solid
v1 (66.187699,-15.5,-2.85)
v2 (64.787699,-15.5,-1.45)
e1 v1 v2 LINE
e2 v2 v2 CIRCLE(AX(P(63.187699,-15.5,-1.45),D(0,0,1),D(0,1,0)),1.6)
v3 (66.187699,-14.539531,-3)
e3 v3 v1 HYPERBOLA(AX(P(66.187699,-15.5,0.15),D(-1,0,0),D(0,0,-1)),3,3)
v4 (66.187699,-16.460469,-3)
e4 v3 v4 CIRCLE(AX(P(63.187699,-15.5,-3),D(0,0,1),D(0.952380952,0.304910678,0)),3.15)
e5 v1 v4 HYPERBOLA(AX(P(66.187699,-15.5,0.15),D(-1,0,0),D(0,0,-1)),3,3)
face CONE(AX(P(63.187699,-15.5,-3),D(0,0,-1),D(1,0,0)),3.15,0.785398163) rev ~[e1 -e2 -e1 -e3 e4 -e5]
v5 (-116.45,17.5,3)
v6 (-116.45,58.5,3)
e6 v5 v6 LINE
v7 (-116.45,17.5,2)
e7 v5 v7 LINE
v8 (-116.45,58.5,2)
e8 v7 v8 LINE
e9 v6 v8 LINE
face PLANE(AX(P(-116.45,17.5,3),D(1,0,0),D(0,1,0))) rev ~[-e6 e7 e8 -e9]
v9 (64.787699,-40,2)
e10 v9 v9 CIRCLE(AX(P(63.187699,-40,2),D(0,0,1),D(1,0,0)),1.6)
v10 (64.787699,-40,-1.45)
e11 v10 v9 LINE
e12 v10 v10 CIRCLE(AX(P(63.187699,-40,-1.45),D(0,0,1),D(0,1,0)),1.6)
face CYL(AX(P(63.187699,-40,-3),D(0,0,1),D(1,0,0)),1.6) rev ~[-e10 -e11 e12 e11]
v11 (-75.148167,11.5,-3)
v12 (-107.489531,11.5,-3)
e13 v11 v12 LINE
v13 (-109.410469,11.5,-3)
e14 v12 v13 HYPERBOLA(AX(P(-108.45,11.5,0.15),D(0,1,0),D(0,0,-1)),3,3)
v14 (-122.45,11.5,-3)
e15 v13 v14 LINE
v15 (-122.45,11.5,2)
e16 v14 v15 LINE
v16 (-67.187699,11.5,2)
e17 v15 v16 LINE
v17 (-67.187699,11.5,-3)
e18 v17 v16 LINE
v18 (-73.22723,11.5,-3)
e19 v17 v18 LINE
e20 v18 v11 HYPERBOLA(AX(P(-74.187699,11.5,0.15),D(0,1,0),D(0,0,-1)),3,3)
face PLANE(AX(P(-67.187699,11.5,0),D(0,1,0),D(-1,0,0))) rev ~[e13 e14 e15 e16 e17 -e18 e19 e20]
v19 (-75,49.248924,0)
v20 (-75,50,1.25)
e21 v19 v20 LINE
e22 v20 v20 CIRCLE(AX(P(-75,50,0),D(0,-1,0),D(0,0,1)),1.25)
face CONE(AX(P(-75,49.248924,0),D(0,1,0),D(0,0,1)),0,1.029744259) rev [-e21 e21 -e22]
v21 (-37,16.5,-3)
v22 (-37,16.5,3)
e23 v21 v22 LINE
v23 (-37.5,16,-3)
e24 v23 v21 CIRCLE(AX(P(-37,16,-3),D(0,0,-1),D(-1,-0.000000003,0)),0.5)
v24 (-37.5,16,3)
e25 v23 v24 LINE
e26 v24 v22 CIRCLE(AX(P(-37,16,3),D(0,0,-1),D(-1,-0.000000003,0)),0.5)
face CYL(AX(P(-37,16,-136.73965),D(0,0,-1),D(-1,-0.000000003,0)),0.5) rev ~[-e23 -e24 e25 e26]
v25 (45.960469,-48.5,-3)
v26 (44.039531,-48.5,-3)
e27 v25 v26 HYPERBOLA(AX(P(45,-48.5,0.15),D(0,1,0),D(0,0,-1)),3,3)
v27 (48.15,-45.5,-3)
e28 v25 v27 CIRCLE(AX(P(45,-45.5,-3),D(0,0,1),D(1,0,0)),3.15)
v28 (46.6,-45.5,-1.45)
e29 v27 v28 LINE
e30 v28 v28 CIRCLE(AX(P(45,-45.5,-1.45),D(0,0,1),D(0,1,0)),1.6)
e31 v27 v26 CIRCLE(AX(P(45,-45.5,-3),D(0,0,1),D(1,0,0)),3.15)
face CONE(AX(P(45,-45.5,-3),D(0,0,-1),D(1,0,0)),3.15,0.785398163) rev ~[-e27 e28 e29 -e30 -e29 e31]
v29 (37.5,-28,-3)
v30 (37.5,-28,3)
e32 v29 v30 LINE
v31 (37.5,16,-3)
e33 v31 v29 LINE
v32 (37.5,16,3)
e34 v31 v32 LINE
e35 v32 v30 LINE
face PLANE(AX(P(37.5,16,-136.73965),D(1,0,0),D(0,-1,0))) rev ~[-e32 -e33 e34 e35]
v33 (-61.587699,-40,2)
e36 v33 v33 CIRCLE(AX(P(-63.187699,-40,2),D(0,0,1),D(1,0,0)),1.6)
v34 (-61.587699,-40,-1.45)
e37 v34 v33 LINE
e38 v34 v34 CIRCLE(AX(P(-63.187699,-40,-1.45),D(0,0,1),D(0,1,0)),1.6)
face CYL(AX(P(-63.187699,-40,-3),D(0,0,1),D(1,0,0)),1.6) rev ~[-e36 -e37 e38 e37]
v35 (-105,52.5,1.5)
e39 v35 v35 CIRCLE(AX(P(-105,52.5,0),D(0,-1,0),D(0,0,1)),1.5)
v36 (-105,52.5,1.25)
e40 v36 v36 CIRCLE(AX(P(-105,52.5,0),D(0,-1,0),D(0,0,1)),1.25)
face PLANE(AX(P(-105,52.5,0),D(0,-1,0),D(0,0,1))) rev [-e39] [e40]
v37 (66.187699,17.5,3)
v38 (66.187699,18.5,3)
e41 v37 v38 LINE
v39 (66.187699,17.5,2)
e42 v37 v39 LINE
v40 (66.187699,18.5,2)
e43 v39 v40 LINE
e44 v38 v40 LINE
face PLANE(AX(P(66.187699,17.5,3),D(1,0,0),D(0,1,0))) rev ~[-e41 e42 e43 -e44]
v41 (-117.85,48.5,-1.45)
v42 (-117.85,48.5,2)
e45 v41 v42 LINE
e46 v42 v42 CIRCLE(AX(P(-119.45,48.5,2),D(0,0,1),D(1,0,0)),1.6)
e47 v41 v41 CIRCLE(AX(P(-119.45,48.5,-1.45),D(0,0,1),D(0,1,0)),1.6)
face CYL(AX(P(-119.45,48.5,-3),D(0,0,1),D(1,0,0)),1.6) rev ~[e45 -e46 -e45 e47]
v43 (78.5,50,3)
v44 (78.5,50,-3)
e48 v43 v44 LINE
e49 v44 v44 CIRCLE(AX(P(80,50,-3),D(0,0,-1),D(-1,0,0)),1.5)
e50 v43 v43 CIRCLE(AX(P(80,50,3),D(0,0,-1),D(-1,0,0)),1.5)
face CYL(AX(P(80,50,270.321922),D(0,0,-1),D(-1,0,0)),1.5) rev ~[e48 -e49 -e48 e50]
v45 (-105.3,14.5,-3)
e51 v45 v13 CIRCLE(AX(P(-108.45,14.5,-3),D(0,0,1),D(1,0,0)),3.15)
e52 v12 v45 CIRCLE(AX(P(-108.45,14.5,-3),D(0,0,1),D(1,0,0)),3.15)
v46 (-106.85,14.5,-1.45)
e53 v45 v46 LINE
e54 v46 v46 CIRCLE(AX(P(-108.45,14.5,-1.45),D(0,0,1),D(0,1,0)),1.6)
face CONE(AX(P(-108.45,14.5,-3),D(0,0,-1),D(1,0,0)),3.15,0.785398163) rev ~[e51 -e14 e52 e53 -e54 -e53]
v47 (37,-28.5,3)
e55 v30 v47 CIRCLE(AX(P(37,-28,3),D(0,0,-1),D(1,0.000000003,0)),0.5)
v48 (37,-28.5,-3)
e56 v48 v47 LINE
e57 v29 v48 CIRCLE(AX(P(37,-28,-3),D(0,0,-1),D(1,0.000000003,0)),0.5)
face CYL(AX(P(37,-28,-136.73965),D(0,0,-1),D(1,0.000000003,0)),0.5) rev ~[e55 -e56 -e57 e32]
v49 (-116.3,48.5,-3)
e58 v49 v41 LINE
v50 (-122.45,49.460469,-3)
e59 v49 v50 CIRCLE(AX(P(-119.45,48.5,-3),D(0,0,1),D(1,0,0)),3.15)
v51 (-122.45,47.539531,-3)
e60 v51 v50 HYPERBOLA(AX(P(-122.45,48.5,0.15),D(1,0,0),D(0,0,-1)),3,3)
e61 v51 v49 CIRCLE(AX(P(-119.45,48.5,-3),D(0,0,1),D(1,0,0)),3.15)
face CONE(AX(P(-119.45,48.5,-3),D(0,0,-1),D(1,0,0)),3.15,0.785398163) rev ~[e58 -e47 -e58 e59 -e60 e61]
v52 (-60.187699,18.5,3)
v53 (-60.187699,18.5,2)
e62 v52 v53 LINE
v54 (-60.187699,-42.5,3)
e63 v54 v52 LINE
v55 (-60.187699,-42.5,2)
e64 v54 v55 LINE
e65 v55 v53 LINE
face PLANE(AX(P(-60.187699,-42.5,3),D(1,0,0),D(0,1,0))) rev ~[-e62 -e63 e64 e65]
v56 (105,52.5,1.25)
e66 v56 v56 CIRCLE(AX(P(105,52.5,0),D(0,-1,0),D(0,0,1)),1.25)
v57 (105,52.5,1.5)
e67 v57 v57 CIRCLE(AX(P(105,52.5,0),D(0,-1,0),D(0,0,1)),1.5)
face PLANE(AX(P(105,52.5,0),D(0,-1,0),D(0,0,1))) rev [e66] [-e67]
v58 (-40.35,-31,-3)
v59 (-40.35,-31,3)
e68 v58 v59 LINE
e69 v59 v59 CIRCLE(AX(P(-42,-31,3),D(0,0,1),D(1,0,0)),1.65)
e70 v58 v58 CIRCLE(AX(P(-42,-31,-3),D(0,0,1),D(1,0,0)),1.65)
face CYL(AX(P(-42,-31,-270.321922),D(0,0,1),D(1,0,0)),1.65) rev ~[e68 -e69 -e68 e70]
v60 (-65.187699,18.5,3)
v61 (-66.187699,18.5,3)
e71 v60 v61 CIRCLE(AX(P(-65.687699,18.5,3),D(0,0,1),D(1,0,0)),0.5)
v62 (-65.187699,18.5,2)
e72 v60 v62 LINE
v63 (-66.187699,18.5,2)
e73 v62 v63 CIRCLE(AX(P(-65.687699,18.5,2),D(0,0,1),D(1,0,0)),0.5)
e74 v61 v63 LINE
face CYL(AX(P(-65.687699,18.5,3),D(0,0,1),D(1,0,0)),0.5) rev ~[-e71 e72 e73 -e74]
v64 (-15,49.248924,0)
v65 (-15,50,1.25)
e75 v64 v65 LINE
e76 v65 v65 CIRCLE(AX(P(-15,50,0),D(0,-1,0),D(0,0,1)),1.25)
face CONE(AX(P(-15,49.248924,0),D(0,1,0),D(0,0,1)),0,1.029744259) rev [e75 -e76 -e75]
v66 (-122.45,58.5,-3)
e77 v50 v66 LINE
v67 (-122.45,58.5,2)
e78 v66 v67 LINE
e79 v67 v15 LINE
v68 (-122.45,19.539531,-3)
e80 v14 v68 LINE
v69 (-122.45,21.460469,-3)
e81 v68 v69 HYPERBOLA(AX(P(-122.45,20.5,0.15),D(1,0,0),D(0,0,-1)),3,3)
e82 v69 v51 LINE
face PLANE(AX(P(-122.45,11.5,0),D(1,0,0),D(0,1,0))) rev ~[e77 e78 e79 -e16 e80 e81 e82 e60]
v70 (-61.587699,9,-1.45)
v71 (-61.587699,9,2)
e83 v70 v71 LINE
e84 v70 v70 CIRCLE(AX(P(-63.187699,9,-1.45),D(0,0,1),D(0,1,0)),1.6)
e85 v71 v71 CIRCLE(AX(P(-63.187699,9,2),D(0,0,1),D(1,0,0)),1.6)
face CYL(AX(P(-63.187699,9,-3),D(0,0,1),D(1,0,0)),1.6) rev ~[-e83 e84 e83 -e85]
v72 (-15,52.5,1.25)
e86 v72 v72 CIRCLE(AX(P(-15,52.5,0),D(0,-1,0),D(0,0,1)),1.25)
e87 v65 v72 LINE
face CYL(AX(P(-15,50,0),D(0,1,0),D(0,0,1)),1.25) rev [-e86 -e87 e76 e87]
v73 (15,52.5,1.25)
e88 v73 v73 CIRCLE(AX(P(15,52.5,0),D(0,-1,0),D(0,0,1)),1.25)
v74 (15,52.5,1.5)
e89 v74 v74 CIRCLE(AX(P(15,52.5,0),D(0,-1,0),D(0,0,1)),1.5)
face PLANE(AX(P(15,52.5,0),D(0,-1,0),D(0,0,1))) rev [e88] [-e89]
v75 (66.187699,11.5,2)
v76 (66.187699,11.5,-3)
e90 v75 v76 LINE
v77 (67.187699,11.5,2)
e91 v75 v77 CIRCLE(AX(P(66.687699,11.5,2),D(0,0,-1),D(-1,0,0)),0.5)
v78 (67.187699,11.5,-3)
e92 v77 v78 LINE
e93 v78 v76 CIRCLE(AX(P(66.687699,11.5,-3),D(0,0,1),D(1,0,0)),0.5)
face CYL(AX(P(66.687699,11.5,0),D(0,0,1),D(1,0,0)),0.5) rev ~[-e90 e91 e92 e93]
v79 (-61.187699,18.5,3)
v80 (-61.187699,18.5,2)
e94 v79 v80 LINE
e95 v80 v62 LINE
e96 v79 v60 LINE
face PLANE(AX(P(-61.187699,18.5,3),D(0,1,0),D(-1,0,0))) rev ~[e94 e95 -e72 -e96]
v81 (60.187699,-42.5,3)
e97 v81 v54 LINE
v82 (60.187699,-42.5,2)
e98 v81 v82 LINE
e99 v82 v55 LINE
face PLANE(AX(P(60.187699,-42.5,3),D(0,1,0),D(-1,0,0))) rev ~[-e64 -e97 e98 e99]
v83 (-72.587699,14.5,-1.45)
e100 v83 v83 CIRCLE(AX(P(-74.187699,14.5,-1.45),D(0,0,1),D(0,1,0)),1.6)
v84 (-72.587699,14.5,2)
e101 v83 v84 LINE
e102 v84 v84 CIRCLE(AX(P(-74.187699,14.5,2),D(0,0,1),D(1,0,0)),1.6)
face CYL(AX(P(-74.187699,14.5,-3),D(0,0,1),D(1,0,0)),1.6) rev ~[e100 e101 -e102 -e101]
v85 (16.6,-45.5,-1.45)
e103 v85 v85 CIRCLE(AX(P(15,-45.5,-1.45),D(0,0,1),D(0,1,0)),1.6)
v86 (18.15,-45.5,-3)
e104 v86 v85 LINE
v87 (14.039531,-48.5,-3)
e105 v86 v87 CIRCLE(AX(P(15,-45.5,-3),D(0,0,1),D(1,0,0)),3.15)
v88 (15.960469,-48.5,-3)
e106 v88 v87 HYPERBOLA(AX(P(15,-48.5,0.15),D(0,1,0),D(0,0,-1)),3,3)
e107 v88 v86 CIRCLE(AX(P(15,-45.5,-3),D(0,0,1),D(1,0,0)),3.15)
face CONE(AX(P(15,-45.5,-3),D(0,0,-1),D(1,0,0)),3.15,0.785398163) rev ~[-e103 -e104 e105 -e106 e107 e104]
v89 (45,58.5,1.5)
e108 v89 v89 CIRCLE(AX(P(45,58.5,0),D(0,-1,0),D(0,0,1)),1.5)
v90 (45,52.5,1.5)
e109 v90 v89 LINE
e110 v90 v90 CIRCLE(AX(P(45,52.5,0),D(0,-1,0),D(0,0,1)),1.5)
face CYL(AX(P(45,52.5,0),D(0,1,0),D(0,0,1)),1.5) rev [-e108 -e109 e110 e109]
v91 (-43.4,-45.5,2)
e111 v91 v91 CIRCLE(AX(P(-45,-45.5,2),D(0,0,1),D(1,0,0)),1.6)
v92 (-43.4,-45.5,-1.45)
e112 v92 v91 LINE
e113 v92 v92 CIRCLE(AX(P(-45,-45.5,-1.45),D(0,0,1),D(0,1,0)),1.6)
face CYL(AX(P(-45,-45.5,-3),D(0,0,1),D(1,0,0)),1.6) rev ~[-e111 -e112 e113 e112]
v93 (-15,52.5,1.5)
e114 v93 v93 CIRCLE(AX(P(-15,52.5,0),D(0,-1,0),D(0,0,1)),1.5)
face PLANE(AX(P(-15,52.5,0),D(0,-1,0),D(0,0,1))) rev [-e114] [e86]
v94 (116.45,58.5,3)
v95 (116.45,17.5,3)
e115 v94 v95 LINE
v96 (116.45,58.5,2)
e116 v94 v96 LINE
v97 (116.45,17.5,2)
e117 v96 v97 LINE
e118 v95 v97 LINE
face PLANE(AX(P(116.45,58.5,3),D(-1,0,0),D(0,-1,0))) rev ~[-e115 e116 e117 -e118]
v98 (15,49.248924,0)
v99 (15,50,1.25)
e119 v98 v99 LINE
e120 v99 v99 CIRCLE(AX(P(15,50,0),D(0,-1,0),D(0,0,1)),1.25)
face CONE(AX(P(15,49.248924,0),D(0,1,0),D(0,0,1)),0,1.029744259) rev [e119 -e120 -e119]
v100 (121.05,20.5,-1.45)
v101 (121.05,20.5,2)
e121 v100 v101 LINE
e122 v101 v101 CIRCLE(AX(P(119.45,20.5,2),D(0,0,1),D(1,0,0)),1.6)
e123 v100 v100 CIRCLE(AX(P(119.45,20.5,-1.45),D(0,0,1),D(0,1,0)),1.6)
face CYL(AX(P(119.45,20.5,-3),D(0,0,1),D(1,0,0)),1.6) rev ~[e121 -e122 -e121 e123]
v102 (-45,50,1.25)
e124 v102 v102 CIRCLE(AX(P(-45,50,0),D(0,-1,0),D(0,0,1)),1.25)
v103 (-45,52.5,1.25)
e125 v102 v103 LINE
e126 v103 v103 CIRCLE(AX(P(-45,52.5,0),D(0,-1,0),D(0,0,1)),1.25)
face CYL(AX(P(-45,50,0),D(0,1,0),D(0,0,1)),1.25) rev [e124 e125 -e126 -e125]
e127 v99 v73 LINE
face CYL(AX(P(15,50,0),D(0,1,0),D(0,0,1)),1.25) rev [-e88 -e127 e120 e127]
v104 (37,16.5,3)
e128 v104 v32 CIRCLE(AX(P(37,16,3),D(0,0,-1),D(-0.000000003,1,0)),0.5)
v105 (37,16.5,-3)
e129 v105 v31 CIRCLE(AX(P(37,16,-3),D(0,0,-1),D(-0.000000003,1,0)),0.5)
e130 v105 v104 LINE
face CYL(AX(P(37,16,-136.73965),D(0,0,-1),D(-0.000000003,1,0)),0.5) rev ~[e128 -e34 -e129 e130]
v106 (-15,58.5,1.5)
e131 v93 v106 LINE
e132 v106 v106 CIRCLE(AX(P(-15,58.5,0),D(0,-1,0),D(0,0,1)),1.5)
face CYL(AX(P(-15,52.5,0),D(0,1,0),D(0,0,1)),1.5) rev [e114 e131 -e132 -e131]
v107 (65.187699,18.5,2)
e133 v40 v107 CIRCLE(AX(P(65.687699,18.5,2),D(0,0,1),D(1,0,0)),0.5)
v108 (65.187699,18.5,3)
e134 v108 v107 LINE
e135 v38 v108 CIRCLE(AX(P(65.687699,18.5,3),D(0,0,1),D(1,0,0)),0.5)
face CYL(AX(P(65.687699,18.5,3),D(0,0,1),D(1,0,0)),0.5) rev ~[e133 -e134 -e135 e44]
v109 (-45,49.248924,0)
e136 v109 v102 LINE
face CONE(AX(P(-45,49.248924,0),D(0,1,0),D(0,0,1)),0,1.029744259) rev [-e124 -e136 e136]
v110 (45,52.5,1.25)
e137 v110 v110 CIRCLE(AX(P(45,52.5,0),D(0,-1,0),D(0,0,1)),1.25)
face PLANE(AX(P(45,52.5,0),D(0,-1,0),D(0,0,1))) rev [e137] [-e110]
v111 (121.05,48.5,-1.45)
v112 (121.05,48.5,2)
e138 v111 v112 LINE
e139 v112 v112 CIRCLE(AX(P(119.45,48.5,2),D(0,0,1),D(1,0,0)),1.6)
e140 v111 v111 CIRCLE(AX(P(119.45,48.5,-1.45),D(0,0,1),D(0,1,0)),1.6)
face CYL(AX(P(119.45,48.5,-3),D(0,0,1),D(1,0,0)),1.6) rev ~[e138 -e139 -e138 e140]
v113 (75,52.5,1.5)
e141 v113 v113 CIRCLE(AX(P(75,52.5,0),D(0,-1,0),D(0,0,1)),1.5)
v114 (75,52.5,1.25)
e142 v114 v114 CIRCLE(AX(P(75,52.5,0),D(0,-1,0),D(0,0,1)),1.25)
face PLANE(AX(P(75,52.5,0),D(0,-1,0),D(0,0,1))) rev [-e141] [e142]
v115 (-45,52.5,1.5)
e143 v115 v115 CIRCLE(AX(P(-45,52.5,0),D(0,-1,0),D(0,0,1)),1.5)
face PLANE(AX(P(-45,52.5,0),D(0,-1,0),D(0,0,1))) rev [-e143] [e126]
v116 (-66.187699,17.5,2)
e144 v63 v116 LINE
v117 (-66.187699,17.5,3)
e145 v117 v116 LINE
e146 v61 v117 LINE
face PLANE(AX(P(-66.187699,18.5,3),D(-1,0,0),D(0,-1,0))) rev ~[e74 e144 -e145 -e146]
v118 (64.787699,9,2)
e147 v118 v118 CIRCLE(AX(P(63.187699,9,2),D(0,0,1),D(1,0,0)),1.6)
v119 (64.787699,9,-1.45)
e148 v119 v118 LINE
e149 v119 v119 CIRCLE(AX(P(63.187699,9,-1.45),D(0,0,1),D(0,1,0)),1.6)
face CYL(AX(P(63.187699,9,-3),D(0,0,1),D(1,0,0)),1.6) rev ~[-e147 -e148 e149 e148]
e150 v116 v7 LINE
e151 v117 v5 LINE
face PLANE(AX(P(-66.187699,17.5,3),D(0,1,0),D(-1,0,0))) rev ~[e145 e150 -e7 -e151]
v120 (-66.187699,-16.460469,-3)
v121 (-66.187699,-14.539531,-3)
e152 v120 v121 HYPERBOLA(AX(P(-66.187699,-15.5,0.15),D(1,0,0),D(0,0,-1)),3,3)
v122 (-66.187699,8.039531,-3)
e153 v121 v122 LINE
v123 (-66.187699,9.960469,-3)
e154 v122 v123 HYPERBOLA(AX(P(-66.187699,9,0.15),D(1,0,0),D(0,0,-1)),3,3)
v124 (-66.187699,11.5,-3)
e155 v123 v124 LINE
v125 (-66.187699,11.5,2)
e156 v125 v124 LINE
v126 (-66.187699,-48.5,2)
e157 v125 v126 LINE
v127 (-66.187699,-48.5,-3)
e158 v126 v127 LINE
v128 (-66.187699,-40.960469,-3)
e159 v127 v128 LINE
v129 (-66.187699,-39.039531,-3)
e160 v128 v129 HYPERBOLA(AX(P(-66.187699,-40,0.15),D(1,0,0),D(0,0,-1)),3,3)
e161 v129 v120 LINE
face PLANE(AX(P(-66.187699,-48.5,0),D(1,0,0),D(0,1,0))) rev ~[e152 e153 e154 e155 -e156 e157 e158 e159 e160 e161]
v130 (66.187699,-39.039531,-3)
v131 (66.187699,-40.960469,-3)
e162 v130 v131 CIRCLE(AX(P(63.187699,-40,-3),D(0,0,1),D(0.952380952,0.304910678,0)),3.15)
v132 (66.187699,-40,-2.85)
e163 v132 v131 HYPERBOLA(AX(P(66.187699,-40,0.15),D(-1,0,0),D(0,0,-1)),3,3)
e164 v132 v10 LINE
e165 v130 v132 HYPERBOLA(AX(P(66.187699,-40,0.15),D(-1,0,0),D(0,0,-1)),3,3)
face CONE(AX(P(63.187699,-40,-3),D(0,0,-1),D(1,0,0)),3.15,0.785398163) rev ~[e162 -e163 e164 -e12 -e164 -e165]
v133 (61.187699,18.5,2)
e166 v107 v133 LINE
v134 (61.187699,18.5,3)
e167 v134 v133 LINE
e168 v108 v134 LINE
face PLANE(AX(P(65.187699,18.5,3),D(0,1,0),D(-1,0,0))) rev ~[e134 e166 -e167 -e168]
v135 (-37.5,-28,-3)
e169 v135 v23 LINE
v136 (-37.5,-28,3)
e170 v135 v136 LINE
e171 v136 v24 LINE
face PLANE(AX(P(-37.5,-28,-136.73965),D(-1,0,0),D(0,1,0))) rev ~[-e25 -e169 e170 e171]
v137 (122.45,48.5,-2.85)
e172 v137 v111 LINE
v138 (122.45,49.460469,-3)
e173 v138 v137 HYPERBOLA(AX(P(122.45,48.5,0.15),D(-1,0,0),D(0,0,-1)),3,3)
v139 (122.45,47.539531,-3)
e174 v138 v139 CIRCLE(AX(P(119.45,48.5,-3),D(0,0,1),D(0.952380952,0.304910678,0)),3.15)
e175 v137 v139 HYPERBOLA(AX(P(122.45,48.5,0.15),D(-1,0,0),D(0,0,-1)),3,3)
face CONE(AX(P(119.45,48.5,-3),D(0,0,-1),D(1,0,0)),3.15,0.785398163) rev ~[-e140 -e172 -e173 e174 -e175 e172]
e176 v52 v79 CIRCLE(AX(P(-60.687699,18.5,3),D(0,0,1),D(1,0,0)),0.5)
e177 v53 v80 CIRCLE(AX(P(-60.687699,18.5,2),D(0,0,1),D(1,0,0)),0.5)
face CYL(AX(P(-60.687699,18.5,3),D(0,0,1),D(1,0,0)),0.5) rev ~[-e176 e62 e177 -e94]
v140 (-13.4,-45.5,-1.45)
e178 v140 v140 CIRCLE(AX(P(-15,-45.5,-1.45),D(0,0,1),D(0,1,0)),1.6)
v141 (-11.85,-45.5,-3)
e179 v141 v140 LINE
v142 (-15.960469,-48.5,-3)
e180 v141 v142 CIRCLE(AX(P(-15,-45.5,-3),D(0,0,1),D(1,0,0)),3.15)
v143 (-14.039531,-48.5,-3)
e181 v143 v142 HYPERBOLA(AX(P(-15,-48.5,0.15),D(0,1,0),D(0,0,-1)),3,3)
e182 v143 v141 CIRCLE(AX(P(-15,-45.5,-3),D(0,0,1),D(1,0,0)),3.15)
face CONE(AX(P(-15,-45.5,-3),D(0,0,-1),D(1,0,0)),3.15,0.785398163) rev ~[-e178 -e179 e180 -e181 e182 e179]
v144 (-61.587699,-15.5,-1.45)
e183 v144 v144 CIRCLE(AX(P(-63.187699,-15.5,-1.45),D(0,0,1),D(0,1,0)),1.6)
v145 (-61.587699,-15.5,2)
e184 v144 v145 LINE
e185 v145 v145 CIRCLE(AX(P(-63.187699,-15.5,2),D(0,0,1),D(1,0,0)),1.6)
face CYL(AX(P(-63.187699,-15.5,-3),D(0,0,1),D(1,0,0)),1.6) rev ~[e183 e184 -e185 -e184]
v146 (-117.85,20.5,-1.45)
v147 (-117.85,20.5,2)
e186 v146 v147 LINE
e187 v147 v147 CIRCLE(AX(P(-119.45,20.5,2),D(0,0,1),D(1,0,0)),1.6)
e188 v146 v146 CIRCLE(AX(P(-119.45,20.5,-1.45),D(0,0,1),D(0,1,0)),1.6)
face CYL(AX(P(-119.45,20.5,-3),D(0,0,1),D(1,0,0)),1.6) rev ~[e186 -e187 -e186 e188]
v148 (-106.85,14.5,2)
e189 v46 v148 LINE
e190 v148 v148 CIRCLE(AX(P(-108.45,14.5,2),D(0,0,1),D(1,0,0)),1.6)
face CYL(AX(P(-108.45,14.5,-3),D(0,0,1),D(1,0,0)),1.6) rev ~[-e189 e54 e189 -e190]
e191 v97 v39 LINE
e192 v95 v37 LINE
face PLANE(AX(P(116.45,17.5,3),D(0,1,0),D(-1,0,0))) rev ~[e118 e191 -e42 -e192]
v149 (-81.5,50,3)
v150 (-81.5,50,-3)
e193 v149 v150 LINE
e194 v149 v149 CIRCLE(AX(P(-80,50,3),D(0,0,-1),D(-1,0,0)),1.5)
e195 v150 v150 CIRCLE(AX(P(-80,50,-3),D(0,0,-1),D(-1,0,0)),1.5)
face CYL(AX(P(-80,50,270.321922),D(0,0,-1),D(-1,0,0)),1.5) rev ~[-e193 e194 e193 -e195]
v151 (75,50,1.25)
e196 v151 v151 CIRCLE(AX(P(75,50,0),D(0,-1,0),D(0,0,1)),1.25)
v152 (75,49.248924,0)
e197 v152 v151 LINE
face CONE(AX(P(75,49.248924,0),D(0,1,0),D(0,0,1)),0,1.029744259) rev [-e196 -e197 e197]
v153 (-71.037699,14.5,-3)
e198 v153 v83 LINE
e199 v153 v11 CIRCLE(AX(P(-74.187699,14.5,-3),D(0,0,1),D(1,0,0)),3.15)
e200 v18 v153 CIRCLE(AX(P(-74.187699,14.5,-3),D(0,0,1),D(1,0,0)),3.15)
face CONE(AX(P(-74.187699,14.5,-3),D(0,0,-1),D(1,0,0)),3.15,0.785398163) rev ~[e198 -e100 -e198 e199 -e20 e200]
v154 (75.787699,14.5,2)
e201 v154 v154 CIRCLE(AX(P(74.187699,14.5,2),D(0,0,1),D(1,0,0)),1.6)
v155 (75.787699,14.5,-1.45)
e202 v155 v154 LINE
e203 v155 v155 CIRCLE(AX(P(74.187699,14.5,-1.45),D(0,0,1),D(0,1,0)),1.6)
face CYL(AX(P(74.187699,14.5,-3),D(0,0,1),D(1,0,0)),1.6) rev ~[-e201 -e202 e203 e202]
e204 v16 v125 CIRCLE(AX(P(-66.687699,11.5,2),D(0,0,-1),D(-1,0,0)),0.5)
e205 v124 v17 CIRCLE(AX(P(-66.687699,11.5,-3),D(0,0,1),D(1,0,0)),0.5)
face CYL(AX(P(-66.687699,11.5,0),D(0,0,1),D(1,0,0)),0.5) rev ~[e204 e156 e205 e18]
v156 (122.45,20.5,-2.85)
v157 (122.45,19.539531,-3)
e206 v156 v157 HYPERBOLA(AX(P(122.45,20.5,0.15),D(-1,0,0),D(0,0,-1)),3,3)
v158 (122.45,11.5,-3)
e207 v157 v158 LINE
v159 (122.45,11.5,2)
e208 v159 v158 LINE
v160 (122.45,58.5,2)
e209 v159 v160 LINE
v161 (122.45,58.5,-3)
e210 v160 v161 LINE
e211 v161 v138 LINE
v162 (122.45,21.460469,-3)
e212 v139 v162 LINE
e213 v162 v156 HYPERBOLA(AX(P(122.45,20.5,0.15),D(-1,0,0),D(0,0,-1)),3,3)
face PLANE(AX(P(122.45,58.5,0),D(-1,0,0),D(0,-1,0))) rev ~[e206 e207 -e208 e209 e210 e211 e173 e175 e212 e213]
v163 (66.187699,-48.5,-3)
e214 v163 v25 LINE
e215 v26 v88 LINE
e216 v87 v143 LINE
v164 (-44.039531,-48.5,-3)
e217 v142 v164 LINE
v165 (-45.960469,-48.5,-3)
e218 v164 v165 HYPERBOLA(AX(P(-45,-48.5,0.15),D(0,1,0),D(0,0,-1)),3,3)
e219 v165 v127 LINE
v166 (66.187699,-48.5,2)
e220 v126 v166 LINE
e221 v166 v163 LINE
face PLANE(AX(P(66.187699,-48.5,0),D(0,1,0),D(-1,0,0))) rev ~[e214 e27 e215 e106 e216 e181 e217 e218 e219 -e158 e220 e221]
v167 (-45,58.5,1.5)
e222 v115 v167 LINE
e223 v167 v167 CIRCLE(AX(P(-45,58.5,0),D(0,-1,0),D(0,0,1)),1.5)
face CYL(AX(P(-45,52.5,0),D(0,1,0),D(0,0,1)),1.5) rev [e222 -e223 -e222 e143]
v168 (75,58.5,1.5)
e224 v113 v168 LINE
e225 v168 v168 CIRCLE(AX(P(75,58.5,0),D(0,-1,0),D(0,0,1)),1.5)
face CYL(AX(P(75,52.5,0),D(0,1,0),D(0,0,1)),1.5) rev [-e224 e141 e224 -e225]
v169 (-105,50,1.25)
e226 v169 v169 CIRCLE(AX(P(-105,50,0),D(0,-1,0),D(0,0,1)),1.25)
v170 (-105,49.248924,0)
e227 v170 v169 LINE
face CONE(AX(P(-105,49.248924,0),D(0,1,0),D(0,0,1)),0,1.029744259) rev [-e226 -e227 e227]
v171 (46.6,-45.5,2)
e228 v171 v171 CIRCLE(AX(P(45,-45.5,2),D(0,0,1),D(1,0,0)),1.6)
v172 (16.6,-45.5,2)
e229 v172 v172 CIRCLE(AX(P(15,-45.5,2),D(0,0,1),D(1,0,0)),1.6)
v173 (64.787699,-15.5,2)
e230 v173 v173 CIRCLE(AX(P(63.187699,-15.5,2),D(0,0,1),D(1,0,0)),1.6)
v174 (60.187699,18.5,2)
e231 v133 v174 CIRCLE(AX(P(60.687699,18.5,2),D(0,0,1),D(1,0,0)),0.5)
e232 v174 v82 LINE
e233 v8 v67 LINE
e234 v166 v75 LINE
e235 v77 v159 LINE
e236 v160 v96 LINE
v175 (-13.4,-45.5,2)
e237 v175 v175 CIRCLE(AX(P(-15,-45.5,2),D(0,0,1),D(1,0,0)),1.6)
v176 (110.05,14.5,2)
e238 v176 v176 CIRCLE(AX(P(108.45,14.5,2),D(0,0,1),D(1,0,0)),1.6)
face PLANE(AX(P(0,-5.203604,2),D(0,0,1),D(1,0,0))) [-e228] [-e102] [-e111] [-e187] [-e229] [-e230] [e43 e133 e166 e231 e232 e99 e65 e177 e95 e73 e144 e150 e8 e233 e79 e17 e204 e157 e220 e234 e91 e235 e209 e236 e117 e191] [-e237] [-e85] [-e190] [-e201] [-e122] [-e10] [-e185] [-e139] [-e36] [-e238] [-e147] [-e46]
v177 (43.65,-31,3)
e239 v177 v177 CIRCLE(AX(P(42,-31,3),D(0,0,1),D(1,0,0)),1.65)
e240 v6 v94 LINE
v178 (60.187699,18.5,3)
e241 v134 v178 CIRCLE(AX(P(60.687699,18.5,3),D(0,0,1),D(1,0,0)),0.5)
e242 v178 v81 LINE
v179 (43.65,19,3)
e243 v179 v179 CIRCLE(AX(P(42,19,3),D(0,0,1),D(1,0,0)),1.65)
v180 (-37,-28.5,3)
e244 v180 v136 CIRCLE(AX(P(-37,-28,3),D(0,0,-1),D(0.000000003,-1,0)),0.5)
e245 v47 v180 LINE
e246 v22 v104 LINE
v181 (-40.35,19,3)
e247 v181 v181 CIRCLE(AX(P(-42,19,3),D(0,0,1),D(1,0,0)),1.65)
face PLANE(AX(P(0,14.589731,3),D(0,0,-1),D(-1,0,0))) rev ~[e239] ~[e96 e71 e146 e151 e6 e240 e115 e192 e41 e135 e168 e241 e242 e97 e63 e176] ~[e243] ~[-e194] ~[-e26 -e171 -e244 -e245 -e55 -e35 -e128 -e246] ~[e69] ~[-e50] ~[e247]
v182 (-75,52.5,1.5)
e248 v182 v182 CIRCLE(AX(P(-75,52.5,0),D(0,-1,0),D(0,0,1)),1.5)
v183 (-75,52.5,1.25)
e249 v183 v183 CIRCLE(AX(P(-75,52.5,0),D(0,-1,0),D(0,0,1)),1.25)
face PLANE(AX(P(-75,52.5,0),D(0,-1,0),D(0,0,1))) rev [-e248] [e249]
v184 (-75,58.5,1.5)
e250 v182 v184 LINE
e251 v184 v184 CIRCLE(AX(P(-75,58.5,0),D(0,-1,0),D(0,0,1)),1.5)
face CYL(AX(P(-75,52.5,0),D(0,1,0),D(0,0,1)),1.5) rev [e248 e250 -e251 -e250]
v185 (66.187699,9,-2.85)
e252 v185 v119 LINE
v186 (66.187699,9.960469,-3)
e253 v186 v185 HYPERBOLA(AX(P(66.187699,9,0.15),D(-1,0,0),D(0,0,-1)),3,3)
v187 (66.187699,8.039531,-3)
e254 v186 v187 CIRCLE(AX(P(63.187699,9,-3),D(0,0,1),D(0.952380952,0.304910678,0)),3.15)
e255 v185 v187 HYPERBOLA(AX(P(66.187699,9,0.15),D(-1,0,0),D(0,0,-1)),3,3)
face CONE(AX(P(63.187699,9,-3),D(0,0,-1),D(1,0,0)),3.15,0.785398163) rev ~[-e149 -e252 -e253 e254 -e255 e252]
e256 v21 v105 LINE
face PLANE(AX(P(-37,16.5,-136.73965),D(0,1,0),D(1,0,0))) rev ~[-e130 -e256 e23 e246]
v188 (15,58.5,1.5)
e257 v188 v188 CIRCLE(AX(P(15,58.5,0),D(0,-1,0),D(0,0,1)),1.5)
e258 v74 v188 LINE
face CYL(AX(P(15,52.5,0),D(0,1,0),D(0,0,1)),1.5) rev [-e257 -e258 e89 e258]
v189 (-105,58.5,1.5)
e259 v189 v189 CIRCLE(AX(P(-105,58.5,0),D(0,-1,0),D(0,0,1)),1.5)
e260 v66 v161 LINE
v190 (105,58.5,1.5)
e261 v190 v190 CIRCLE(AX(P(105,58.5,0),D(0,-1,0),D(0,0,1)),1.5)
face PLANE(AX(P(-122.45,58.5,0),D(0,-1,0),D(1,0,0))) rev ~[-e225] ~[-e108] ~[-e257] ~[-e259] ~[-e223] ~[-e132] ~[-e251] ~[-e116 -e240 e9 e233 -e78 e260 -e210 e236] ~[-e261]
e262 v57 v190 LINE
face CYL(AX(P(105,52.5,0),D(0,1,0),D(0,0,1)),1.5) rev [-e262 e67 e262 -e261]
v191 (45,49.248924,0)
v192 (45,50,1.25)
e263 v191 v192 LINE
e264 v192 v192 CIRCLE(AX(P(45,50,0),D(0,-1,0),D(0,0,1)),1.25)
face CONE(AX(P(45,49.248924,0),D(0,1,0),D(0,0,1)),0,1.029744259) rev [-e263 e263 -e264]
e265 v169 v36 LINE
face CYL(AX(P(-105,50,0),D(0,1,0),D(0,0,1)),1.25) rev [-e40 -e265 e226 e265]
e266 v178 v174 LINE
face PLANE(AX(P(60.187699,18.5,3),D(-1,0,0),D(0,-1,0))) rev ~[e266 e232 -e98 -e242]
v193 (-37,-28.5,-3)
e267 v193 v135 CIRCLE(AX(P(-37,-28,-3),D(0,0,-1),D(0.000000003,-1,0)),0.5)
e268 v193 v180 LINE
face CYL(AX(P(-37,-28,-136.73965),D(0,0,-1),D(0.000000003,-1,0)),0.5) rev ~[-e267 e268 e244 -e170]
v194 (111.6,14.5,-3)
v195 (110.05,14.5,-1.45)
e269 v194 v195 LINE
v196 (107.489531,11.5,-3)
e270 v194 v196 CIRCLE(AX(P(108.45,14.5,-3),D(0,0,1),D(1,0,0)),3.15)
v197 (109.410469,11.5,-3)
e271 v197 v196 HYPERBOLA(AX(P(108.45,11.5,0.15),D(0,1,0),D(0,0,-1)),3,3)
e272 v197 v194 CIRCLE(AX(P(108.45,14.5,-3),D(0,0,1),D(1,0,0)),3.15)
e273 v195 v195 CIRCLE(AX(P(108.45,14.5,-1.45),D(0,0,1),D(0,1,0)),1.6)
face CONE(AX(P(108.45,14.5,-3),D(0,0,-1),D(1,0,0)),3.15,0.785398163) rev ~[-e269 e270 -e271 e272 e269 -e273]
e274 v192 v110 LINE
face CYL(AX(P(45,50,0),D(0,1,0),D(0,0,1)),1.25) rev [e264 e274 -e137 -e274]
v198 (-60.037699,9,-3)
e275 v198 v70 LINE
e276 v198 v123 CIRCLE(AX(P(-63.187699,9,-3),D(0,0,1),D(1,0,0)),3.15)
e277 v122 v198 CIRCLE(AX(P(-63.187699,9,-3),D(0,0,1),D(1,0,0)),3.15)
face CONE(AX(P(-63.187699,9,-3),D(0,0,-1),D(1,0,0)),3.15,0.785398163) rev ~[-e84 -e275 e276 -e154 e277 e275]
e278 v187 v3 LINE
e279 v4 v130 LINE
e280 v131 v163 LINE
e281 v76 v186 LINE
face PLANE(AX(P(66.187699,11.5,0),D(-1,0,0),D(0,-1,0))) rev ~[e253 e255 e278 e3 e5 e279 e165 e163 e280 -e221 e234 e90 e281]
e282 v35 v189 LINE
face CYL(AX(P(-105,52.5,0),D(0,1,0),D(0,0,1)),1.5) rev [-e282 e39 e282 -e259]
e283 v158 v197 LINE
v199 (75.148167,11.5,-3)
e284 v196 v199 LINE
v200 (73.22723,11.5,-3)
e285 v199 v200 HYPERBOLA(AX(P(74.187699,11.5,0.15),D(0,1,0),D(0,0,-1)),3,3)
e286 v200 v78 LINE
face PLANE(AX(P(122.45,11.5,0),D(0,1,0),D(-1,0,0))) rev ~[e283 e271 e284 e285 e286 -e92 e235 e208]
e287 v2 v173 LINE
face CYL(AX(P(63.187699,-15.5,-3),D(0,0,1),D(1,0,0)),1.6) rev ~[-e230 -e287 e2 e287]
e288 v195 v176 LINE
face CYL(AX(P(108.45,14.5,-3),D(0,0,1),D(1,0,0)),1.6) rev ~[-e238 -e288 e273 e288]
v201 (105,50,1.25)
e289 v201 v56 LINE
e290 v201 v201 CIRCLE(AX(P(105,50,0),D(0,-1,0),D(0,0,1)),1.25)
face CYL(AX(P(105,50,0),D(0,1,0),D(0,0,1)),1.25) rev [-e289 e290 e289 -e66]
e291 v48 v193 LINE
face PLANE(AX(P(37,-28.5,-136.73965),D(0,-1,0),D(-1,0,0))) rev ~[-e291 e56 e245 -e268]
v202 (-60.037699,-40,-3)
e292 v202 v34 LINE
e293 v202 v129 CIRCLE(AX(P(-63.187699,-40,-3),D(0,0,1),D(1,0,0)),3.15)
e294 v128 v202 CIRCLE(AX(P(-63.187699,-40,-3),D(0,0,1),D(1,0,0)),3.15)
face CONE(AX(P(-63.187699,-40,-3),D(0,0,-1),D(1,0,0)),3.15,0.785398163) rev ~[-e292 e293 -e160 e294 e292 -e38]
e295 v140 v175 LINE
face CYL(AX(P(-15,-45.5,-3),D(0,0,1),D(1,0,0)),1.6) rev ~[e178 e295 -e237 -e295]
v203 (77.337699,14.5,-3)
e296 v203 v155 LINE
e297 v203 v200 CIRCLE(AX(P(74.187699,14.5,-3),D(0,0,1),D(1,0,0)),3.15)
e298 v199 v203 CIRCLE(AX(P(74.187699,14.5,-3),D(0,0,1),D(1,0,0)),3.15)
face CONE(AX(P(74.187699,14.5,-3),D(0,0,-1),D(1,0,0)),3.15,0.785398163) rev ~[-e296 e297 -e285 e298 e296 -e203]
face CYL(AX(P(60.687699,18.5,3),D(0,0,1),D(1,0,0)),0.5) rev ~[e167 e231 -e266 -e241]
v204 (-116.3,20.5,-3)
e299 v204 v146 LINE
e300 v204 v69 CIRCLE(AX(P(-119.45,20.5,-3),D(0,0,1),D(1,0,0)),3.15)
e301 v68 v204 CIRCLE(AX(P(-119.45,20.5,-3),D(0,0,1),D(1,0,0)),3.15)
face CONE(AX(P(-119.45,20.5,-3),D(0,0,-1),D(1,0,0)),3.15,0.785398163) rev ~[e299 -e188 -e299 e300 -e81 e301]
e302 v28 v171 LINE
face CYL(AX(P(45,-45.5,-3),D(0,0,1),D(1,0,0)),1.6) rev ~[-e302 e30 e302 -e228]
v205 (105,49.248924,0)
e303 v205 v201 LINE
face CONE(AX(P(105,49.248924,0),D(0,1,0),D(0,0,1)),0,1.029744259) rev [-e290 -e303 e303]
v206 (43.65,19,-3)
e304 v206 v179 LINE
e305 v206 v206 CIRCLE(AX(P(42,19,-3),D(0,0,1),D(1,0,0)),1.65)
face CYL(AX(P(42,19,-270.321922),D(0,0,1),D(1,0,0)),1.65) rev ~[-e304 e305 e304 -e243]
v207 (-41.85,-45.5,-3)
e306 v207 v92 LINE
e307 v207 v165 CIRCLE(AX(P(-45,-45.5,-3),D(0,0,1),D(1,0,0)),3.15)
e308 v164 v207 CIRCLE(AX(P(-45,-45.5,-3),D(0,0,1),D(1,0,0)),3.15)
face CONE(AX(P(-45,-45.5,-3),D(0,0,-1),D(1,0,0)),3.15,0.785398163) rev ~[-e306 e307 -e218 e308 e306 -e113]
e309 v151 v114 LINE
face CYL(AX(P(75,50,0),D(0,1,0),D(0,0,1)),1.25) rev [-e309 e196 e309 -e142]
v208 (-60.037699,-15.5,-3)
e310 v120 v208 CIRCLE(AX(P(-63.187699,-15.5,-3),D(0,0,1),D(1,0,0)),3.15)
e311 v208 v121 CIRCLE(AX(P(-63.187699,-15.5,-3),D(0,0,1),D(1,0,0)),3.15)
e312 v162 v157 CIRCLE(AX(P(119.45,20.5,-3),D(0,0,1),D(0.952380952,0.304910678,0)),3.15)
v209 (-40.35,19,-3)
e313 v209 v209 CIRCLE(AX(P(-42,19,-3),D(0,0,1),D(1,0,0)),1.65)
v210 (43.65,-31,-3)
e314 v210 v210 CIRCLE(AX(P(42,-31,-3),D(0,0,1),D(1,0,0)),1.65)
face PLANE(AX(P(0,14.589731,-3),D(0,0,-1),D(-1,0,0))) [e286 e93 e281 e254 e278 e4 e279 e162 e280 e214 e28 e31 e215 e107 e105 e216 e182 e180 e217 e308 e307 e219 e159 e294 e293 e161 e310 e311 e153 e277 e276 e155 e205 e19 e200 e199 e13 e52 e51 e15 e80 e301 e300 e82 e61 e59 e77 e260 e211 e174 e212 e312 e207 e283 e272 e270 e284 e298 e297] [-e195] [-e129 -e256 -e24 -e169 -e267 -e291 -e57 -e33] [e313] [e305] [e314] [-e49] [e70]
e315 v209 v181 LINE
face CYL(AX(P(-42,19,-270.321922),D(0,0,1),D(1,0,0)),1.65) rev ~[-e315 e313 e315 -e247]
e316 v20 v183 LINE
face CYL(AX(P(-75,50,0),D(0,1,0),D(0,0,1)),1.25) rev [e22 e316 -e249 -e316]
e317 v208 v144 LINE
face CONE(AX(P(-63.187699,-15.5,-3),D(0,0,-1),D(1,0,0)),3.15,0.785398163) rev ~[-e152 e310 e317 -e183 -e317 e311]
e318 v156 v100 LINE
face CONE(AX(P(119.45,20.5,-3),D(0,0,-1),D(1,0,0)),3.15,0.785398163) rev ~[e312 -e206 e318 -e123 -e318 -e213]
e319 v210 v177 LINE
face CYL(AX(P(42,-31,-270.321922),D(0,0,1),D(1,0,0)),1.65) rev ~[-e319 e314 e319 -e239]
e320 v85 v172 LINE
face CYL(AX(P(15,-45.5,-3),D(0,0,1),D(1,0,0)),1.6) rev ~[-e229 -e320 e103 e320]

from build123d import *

# Parameters (mm, degrees)
EXTRUDE_1_DEPTH              = 3
CUT_EXTRUDE_START            = 3
CUT_EXTRUDE_2_DEPTH          = 1
CUT_EXTRUDE_3_DEPTH          = 136.739649697
CUT_EXTRUDE_3_DEPTH_BACK     = 136.739649697
HOLE_WIZARD_M3_1_D           = 3.2
HOLE_WIZARD_M3_1_CSINK_D     = 6.3
HOLE_WIZARD_M3_1_CSINK_ANGLE = 90
M4X0_7_1_D                   = 3.3
M3X0_5_1_D                   = 3
PATTERN_LINEAR_1_COUNT       = 8
PATTERN_LINEAR_1_PITCH       = 30


with BuildPart() as part:
    # ｽｹｯﾁ1 → ﾎﾞｽ - 押し出し1 (new, symmetric)
    with BuildSketch(Plane.XY):
        with BuildLine():
            Line((-122.45, 58.5), (122.45, 58.5))
            Line((122.45, 58.5), (122.45, 11.5))
            Line((122.45, 11.5), (67.187698744, 11.5))
            ThreePointArc((67.187698744, 11.5), (66.687698744, 12), (66.187698744, 11.5))
            Line((66.187698744, 11.5), (66.187698744, -48.5))
            Line((66.187698744, -48.5), (-66.187698744, -48.5))
            Line((-66.187698744, -48.5), (-66.187698744, 11.5))
            ThreePointArc((-66.187698744, 11.5), (-66.687698744, 12), (-67.187698744, 11.5))
            Line((-67.187698744, 11.5), (-122.45, 11.5))
            Line((-122.45, 11.5), (-122.45, 58.5))
        make_face()
    extrude(amount=EXTRUDE_1_DEPTH, both=True)

    # ｽｹｯﾁ1<4> → ｶｯﾄ - 押し出し2 (cut)
    with BuildSketch(Plane.XY.offset(CUT_EXTRUDE_START)):
        with BuildLine():
            Line((-116.45, 58.5), (-122.45, 58.5))
            Line((-122.45, 58.5), (-122.45, 11.5))
            Line((-122.45, 11.5), (-67.187698744, 11.5))
            ThreePointArc((-67.187698744, 11.5), (-66.687698744, 12), (-66.187698744, 11.5))
            Line((-66.187698744, 11.5), (-66.187698744, -48.5))
            Line((-66.187698744, -48.5), (66.187698744, -48.5))
            Line((66.187698744, -48.5), (66.187698744, 11.5))
            ThreePointArc((66.187698744, 11.5), (66.687698744, 12), (67.187698744, 11.5))
            Line((67.187698744, 11.5), (122.45, 11.5))
            Line((122.45, 11.5), (122.45, 58.5))
            Line((122.45, 58.5), (116.45, 58.5))
            Line((116.45, 58.5), (116.45, 17.5))
            Line((116.45, 17.5), (66.187698744, 17.5))
            Line((66.187698744, 17.5), (66.187698744, 18.5))
            ThreePointArc((66.187698744, 18.5), (65.687698744, 19), (65.187698744, 18.5))
            Line((65.187698744, 18.5), (61.187698744, 18.5))
            ThreePointArc((61.187698744, 18.5), (60.687698744, 19), (60.187698744, 18.5))
            Line((60.187698744, 18.5), (60.187698744, -42.5))
            Line((60.187698744, -42.5), (-60.187698744, -42.5))
            Line((-60.187698744, -42.5), (-60.187698744, 18.5))
            ThreePointArc((-60.187698744, 18.5), (-60.687698744, 19), (-61.187698744, 18.5))
            Line((-61.187698744, 18.5), (-65.187698744, 18.5))
            ThreePointArc((-65.187698744, 18.5), (-65.687698744, 19), (-66.187698744, 18.5))
            Line((-66.187698744, 18.5), (-66.187698744, 17.5))
            Line((-66.187698744, 17.5), (-116.45, 17.5))
            Line((-116.45, 17.5), (-116.45, 58.5))
        make_face()
    extrude(amount=-CUT_EXTRUDE_2_DEPTH, mode=Mode.SUBTRACT)

    # ｽｹｯﾁ1<5> → ｶｯﾄ - 押し出し3 (cut, two sides: drawn at the far end of the back side and taken through both)
    with BuildSketch(Plane.XY.offset(-CUT_EXTRUDE_3_DEPTH_BACK)):
        with BuildLine():
            Line((-37, 16.5), (37, 16.5))
            ThreePointArc((37, 16.5), (37.353553391, 16.353553391), (37.5, 16))
            Line((37.5, 16), (37.5, -28))
            ThreePointArc((37.5, -28), (37.353553391, -28.353553391), (37, -28.5))
            Line((37, -28.5), (-37, -28.5))
            ThreePointArc((-37, -28.5), (-37.353553391, -28.353553391), (-37.5, -28))
            Line((-37.5, -28), (-37.5, 16))
            ThreePointArc((-37.5, 16), (-37.353553391, 16.353553391), (-37, 16.5))
        make_face()
    extrude(amount=CUT_EXTRUDE_3_DEPTH + CUT_EXTRUDE_3_DEPTH_BACK, mode=Mode.SUBTRACT)

    # M3 丸皿ねじ用皿穴1 (through all)
    with Locations(Plane(origin=(119.45, 48.5, -3), x_dir=(-1, 0, 0), z_dir=(0, 0, -1))):
        with Locations((0, 0), (0, -28), (11, -34), (45.262301256, -34), (56.262301256, -39.5), (56.262301256, -64), (56.262301256, -88.5), (74.45, -94), (104.45, -94), (134.45, -94), (164.45, -94), (182.637698744, -88.5), (182.637698744, -64), (182.637698744, -39.5), (193.637698744, -34), (227.9, -34), (238.9, -28), (238.9, 0)):
            CounterSinkHole(HOLE_WIZARD_M3_1_D / 2, HOLE_WIZARD_M3_1_CSINK_D / 2, counter_sink_angle=HOLE_WIZARD_M3_1_CSINK_ANGLE)

    # ｽｹｯﾁ4 → M3x0.5 ねじ穴2 (revolve, cut)
    with BuildSketch(Plane(origin=(-105, 58.5, 0), x_dir=(0, 0, 1), z_dir=(1, 0, 0))):
        Polygon((0, 0), (0, 9.251075774), (1.25, 8.5), (1.25, 6), (1.5, 6), (1.5, 0), align=None)
    m3x0_5_2 = revolve(axis=Axis((-105, 64.85, 0), (0, -1, 0)), mode=Mode.SUBTRACT)

    # M4x0.7 ねじ穴1 (through all)
    with Locations(Plane(origin=(42, 19, -3), x_dir=(-1, 0, 0), z_dir=(0, 0, -1))):
        with Locations((0, 0), (84, 0), (84, -50), (0, -50)):
            Hole(M4X0_7_1_D / 2)

    # M3x0.5 ねじ穴1 (through all)
    with Locations(Plane(origin=(-80, 50, 3), x_dir=(1, 0, 0), z_dir=(0, 0, 1))):
        with Locations((0, 0), (160, 0)):
            Hole(M3X0_5_1_D / 2)

    # 直線ﾊﾟﾀｰﾝ1: M3x0.5 ねじ穴2 ×8
    with Locations(*[(i * PATTERN_LINEAR_1_PITCH, 0, 0) for i in range(1, PATTERN_LINEAR_1_COUNT)]):
        add(m3x0_5_2, mode=Mode.SUBTRACT)


solid = part.part
